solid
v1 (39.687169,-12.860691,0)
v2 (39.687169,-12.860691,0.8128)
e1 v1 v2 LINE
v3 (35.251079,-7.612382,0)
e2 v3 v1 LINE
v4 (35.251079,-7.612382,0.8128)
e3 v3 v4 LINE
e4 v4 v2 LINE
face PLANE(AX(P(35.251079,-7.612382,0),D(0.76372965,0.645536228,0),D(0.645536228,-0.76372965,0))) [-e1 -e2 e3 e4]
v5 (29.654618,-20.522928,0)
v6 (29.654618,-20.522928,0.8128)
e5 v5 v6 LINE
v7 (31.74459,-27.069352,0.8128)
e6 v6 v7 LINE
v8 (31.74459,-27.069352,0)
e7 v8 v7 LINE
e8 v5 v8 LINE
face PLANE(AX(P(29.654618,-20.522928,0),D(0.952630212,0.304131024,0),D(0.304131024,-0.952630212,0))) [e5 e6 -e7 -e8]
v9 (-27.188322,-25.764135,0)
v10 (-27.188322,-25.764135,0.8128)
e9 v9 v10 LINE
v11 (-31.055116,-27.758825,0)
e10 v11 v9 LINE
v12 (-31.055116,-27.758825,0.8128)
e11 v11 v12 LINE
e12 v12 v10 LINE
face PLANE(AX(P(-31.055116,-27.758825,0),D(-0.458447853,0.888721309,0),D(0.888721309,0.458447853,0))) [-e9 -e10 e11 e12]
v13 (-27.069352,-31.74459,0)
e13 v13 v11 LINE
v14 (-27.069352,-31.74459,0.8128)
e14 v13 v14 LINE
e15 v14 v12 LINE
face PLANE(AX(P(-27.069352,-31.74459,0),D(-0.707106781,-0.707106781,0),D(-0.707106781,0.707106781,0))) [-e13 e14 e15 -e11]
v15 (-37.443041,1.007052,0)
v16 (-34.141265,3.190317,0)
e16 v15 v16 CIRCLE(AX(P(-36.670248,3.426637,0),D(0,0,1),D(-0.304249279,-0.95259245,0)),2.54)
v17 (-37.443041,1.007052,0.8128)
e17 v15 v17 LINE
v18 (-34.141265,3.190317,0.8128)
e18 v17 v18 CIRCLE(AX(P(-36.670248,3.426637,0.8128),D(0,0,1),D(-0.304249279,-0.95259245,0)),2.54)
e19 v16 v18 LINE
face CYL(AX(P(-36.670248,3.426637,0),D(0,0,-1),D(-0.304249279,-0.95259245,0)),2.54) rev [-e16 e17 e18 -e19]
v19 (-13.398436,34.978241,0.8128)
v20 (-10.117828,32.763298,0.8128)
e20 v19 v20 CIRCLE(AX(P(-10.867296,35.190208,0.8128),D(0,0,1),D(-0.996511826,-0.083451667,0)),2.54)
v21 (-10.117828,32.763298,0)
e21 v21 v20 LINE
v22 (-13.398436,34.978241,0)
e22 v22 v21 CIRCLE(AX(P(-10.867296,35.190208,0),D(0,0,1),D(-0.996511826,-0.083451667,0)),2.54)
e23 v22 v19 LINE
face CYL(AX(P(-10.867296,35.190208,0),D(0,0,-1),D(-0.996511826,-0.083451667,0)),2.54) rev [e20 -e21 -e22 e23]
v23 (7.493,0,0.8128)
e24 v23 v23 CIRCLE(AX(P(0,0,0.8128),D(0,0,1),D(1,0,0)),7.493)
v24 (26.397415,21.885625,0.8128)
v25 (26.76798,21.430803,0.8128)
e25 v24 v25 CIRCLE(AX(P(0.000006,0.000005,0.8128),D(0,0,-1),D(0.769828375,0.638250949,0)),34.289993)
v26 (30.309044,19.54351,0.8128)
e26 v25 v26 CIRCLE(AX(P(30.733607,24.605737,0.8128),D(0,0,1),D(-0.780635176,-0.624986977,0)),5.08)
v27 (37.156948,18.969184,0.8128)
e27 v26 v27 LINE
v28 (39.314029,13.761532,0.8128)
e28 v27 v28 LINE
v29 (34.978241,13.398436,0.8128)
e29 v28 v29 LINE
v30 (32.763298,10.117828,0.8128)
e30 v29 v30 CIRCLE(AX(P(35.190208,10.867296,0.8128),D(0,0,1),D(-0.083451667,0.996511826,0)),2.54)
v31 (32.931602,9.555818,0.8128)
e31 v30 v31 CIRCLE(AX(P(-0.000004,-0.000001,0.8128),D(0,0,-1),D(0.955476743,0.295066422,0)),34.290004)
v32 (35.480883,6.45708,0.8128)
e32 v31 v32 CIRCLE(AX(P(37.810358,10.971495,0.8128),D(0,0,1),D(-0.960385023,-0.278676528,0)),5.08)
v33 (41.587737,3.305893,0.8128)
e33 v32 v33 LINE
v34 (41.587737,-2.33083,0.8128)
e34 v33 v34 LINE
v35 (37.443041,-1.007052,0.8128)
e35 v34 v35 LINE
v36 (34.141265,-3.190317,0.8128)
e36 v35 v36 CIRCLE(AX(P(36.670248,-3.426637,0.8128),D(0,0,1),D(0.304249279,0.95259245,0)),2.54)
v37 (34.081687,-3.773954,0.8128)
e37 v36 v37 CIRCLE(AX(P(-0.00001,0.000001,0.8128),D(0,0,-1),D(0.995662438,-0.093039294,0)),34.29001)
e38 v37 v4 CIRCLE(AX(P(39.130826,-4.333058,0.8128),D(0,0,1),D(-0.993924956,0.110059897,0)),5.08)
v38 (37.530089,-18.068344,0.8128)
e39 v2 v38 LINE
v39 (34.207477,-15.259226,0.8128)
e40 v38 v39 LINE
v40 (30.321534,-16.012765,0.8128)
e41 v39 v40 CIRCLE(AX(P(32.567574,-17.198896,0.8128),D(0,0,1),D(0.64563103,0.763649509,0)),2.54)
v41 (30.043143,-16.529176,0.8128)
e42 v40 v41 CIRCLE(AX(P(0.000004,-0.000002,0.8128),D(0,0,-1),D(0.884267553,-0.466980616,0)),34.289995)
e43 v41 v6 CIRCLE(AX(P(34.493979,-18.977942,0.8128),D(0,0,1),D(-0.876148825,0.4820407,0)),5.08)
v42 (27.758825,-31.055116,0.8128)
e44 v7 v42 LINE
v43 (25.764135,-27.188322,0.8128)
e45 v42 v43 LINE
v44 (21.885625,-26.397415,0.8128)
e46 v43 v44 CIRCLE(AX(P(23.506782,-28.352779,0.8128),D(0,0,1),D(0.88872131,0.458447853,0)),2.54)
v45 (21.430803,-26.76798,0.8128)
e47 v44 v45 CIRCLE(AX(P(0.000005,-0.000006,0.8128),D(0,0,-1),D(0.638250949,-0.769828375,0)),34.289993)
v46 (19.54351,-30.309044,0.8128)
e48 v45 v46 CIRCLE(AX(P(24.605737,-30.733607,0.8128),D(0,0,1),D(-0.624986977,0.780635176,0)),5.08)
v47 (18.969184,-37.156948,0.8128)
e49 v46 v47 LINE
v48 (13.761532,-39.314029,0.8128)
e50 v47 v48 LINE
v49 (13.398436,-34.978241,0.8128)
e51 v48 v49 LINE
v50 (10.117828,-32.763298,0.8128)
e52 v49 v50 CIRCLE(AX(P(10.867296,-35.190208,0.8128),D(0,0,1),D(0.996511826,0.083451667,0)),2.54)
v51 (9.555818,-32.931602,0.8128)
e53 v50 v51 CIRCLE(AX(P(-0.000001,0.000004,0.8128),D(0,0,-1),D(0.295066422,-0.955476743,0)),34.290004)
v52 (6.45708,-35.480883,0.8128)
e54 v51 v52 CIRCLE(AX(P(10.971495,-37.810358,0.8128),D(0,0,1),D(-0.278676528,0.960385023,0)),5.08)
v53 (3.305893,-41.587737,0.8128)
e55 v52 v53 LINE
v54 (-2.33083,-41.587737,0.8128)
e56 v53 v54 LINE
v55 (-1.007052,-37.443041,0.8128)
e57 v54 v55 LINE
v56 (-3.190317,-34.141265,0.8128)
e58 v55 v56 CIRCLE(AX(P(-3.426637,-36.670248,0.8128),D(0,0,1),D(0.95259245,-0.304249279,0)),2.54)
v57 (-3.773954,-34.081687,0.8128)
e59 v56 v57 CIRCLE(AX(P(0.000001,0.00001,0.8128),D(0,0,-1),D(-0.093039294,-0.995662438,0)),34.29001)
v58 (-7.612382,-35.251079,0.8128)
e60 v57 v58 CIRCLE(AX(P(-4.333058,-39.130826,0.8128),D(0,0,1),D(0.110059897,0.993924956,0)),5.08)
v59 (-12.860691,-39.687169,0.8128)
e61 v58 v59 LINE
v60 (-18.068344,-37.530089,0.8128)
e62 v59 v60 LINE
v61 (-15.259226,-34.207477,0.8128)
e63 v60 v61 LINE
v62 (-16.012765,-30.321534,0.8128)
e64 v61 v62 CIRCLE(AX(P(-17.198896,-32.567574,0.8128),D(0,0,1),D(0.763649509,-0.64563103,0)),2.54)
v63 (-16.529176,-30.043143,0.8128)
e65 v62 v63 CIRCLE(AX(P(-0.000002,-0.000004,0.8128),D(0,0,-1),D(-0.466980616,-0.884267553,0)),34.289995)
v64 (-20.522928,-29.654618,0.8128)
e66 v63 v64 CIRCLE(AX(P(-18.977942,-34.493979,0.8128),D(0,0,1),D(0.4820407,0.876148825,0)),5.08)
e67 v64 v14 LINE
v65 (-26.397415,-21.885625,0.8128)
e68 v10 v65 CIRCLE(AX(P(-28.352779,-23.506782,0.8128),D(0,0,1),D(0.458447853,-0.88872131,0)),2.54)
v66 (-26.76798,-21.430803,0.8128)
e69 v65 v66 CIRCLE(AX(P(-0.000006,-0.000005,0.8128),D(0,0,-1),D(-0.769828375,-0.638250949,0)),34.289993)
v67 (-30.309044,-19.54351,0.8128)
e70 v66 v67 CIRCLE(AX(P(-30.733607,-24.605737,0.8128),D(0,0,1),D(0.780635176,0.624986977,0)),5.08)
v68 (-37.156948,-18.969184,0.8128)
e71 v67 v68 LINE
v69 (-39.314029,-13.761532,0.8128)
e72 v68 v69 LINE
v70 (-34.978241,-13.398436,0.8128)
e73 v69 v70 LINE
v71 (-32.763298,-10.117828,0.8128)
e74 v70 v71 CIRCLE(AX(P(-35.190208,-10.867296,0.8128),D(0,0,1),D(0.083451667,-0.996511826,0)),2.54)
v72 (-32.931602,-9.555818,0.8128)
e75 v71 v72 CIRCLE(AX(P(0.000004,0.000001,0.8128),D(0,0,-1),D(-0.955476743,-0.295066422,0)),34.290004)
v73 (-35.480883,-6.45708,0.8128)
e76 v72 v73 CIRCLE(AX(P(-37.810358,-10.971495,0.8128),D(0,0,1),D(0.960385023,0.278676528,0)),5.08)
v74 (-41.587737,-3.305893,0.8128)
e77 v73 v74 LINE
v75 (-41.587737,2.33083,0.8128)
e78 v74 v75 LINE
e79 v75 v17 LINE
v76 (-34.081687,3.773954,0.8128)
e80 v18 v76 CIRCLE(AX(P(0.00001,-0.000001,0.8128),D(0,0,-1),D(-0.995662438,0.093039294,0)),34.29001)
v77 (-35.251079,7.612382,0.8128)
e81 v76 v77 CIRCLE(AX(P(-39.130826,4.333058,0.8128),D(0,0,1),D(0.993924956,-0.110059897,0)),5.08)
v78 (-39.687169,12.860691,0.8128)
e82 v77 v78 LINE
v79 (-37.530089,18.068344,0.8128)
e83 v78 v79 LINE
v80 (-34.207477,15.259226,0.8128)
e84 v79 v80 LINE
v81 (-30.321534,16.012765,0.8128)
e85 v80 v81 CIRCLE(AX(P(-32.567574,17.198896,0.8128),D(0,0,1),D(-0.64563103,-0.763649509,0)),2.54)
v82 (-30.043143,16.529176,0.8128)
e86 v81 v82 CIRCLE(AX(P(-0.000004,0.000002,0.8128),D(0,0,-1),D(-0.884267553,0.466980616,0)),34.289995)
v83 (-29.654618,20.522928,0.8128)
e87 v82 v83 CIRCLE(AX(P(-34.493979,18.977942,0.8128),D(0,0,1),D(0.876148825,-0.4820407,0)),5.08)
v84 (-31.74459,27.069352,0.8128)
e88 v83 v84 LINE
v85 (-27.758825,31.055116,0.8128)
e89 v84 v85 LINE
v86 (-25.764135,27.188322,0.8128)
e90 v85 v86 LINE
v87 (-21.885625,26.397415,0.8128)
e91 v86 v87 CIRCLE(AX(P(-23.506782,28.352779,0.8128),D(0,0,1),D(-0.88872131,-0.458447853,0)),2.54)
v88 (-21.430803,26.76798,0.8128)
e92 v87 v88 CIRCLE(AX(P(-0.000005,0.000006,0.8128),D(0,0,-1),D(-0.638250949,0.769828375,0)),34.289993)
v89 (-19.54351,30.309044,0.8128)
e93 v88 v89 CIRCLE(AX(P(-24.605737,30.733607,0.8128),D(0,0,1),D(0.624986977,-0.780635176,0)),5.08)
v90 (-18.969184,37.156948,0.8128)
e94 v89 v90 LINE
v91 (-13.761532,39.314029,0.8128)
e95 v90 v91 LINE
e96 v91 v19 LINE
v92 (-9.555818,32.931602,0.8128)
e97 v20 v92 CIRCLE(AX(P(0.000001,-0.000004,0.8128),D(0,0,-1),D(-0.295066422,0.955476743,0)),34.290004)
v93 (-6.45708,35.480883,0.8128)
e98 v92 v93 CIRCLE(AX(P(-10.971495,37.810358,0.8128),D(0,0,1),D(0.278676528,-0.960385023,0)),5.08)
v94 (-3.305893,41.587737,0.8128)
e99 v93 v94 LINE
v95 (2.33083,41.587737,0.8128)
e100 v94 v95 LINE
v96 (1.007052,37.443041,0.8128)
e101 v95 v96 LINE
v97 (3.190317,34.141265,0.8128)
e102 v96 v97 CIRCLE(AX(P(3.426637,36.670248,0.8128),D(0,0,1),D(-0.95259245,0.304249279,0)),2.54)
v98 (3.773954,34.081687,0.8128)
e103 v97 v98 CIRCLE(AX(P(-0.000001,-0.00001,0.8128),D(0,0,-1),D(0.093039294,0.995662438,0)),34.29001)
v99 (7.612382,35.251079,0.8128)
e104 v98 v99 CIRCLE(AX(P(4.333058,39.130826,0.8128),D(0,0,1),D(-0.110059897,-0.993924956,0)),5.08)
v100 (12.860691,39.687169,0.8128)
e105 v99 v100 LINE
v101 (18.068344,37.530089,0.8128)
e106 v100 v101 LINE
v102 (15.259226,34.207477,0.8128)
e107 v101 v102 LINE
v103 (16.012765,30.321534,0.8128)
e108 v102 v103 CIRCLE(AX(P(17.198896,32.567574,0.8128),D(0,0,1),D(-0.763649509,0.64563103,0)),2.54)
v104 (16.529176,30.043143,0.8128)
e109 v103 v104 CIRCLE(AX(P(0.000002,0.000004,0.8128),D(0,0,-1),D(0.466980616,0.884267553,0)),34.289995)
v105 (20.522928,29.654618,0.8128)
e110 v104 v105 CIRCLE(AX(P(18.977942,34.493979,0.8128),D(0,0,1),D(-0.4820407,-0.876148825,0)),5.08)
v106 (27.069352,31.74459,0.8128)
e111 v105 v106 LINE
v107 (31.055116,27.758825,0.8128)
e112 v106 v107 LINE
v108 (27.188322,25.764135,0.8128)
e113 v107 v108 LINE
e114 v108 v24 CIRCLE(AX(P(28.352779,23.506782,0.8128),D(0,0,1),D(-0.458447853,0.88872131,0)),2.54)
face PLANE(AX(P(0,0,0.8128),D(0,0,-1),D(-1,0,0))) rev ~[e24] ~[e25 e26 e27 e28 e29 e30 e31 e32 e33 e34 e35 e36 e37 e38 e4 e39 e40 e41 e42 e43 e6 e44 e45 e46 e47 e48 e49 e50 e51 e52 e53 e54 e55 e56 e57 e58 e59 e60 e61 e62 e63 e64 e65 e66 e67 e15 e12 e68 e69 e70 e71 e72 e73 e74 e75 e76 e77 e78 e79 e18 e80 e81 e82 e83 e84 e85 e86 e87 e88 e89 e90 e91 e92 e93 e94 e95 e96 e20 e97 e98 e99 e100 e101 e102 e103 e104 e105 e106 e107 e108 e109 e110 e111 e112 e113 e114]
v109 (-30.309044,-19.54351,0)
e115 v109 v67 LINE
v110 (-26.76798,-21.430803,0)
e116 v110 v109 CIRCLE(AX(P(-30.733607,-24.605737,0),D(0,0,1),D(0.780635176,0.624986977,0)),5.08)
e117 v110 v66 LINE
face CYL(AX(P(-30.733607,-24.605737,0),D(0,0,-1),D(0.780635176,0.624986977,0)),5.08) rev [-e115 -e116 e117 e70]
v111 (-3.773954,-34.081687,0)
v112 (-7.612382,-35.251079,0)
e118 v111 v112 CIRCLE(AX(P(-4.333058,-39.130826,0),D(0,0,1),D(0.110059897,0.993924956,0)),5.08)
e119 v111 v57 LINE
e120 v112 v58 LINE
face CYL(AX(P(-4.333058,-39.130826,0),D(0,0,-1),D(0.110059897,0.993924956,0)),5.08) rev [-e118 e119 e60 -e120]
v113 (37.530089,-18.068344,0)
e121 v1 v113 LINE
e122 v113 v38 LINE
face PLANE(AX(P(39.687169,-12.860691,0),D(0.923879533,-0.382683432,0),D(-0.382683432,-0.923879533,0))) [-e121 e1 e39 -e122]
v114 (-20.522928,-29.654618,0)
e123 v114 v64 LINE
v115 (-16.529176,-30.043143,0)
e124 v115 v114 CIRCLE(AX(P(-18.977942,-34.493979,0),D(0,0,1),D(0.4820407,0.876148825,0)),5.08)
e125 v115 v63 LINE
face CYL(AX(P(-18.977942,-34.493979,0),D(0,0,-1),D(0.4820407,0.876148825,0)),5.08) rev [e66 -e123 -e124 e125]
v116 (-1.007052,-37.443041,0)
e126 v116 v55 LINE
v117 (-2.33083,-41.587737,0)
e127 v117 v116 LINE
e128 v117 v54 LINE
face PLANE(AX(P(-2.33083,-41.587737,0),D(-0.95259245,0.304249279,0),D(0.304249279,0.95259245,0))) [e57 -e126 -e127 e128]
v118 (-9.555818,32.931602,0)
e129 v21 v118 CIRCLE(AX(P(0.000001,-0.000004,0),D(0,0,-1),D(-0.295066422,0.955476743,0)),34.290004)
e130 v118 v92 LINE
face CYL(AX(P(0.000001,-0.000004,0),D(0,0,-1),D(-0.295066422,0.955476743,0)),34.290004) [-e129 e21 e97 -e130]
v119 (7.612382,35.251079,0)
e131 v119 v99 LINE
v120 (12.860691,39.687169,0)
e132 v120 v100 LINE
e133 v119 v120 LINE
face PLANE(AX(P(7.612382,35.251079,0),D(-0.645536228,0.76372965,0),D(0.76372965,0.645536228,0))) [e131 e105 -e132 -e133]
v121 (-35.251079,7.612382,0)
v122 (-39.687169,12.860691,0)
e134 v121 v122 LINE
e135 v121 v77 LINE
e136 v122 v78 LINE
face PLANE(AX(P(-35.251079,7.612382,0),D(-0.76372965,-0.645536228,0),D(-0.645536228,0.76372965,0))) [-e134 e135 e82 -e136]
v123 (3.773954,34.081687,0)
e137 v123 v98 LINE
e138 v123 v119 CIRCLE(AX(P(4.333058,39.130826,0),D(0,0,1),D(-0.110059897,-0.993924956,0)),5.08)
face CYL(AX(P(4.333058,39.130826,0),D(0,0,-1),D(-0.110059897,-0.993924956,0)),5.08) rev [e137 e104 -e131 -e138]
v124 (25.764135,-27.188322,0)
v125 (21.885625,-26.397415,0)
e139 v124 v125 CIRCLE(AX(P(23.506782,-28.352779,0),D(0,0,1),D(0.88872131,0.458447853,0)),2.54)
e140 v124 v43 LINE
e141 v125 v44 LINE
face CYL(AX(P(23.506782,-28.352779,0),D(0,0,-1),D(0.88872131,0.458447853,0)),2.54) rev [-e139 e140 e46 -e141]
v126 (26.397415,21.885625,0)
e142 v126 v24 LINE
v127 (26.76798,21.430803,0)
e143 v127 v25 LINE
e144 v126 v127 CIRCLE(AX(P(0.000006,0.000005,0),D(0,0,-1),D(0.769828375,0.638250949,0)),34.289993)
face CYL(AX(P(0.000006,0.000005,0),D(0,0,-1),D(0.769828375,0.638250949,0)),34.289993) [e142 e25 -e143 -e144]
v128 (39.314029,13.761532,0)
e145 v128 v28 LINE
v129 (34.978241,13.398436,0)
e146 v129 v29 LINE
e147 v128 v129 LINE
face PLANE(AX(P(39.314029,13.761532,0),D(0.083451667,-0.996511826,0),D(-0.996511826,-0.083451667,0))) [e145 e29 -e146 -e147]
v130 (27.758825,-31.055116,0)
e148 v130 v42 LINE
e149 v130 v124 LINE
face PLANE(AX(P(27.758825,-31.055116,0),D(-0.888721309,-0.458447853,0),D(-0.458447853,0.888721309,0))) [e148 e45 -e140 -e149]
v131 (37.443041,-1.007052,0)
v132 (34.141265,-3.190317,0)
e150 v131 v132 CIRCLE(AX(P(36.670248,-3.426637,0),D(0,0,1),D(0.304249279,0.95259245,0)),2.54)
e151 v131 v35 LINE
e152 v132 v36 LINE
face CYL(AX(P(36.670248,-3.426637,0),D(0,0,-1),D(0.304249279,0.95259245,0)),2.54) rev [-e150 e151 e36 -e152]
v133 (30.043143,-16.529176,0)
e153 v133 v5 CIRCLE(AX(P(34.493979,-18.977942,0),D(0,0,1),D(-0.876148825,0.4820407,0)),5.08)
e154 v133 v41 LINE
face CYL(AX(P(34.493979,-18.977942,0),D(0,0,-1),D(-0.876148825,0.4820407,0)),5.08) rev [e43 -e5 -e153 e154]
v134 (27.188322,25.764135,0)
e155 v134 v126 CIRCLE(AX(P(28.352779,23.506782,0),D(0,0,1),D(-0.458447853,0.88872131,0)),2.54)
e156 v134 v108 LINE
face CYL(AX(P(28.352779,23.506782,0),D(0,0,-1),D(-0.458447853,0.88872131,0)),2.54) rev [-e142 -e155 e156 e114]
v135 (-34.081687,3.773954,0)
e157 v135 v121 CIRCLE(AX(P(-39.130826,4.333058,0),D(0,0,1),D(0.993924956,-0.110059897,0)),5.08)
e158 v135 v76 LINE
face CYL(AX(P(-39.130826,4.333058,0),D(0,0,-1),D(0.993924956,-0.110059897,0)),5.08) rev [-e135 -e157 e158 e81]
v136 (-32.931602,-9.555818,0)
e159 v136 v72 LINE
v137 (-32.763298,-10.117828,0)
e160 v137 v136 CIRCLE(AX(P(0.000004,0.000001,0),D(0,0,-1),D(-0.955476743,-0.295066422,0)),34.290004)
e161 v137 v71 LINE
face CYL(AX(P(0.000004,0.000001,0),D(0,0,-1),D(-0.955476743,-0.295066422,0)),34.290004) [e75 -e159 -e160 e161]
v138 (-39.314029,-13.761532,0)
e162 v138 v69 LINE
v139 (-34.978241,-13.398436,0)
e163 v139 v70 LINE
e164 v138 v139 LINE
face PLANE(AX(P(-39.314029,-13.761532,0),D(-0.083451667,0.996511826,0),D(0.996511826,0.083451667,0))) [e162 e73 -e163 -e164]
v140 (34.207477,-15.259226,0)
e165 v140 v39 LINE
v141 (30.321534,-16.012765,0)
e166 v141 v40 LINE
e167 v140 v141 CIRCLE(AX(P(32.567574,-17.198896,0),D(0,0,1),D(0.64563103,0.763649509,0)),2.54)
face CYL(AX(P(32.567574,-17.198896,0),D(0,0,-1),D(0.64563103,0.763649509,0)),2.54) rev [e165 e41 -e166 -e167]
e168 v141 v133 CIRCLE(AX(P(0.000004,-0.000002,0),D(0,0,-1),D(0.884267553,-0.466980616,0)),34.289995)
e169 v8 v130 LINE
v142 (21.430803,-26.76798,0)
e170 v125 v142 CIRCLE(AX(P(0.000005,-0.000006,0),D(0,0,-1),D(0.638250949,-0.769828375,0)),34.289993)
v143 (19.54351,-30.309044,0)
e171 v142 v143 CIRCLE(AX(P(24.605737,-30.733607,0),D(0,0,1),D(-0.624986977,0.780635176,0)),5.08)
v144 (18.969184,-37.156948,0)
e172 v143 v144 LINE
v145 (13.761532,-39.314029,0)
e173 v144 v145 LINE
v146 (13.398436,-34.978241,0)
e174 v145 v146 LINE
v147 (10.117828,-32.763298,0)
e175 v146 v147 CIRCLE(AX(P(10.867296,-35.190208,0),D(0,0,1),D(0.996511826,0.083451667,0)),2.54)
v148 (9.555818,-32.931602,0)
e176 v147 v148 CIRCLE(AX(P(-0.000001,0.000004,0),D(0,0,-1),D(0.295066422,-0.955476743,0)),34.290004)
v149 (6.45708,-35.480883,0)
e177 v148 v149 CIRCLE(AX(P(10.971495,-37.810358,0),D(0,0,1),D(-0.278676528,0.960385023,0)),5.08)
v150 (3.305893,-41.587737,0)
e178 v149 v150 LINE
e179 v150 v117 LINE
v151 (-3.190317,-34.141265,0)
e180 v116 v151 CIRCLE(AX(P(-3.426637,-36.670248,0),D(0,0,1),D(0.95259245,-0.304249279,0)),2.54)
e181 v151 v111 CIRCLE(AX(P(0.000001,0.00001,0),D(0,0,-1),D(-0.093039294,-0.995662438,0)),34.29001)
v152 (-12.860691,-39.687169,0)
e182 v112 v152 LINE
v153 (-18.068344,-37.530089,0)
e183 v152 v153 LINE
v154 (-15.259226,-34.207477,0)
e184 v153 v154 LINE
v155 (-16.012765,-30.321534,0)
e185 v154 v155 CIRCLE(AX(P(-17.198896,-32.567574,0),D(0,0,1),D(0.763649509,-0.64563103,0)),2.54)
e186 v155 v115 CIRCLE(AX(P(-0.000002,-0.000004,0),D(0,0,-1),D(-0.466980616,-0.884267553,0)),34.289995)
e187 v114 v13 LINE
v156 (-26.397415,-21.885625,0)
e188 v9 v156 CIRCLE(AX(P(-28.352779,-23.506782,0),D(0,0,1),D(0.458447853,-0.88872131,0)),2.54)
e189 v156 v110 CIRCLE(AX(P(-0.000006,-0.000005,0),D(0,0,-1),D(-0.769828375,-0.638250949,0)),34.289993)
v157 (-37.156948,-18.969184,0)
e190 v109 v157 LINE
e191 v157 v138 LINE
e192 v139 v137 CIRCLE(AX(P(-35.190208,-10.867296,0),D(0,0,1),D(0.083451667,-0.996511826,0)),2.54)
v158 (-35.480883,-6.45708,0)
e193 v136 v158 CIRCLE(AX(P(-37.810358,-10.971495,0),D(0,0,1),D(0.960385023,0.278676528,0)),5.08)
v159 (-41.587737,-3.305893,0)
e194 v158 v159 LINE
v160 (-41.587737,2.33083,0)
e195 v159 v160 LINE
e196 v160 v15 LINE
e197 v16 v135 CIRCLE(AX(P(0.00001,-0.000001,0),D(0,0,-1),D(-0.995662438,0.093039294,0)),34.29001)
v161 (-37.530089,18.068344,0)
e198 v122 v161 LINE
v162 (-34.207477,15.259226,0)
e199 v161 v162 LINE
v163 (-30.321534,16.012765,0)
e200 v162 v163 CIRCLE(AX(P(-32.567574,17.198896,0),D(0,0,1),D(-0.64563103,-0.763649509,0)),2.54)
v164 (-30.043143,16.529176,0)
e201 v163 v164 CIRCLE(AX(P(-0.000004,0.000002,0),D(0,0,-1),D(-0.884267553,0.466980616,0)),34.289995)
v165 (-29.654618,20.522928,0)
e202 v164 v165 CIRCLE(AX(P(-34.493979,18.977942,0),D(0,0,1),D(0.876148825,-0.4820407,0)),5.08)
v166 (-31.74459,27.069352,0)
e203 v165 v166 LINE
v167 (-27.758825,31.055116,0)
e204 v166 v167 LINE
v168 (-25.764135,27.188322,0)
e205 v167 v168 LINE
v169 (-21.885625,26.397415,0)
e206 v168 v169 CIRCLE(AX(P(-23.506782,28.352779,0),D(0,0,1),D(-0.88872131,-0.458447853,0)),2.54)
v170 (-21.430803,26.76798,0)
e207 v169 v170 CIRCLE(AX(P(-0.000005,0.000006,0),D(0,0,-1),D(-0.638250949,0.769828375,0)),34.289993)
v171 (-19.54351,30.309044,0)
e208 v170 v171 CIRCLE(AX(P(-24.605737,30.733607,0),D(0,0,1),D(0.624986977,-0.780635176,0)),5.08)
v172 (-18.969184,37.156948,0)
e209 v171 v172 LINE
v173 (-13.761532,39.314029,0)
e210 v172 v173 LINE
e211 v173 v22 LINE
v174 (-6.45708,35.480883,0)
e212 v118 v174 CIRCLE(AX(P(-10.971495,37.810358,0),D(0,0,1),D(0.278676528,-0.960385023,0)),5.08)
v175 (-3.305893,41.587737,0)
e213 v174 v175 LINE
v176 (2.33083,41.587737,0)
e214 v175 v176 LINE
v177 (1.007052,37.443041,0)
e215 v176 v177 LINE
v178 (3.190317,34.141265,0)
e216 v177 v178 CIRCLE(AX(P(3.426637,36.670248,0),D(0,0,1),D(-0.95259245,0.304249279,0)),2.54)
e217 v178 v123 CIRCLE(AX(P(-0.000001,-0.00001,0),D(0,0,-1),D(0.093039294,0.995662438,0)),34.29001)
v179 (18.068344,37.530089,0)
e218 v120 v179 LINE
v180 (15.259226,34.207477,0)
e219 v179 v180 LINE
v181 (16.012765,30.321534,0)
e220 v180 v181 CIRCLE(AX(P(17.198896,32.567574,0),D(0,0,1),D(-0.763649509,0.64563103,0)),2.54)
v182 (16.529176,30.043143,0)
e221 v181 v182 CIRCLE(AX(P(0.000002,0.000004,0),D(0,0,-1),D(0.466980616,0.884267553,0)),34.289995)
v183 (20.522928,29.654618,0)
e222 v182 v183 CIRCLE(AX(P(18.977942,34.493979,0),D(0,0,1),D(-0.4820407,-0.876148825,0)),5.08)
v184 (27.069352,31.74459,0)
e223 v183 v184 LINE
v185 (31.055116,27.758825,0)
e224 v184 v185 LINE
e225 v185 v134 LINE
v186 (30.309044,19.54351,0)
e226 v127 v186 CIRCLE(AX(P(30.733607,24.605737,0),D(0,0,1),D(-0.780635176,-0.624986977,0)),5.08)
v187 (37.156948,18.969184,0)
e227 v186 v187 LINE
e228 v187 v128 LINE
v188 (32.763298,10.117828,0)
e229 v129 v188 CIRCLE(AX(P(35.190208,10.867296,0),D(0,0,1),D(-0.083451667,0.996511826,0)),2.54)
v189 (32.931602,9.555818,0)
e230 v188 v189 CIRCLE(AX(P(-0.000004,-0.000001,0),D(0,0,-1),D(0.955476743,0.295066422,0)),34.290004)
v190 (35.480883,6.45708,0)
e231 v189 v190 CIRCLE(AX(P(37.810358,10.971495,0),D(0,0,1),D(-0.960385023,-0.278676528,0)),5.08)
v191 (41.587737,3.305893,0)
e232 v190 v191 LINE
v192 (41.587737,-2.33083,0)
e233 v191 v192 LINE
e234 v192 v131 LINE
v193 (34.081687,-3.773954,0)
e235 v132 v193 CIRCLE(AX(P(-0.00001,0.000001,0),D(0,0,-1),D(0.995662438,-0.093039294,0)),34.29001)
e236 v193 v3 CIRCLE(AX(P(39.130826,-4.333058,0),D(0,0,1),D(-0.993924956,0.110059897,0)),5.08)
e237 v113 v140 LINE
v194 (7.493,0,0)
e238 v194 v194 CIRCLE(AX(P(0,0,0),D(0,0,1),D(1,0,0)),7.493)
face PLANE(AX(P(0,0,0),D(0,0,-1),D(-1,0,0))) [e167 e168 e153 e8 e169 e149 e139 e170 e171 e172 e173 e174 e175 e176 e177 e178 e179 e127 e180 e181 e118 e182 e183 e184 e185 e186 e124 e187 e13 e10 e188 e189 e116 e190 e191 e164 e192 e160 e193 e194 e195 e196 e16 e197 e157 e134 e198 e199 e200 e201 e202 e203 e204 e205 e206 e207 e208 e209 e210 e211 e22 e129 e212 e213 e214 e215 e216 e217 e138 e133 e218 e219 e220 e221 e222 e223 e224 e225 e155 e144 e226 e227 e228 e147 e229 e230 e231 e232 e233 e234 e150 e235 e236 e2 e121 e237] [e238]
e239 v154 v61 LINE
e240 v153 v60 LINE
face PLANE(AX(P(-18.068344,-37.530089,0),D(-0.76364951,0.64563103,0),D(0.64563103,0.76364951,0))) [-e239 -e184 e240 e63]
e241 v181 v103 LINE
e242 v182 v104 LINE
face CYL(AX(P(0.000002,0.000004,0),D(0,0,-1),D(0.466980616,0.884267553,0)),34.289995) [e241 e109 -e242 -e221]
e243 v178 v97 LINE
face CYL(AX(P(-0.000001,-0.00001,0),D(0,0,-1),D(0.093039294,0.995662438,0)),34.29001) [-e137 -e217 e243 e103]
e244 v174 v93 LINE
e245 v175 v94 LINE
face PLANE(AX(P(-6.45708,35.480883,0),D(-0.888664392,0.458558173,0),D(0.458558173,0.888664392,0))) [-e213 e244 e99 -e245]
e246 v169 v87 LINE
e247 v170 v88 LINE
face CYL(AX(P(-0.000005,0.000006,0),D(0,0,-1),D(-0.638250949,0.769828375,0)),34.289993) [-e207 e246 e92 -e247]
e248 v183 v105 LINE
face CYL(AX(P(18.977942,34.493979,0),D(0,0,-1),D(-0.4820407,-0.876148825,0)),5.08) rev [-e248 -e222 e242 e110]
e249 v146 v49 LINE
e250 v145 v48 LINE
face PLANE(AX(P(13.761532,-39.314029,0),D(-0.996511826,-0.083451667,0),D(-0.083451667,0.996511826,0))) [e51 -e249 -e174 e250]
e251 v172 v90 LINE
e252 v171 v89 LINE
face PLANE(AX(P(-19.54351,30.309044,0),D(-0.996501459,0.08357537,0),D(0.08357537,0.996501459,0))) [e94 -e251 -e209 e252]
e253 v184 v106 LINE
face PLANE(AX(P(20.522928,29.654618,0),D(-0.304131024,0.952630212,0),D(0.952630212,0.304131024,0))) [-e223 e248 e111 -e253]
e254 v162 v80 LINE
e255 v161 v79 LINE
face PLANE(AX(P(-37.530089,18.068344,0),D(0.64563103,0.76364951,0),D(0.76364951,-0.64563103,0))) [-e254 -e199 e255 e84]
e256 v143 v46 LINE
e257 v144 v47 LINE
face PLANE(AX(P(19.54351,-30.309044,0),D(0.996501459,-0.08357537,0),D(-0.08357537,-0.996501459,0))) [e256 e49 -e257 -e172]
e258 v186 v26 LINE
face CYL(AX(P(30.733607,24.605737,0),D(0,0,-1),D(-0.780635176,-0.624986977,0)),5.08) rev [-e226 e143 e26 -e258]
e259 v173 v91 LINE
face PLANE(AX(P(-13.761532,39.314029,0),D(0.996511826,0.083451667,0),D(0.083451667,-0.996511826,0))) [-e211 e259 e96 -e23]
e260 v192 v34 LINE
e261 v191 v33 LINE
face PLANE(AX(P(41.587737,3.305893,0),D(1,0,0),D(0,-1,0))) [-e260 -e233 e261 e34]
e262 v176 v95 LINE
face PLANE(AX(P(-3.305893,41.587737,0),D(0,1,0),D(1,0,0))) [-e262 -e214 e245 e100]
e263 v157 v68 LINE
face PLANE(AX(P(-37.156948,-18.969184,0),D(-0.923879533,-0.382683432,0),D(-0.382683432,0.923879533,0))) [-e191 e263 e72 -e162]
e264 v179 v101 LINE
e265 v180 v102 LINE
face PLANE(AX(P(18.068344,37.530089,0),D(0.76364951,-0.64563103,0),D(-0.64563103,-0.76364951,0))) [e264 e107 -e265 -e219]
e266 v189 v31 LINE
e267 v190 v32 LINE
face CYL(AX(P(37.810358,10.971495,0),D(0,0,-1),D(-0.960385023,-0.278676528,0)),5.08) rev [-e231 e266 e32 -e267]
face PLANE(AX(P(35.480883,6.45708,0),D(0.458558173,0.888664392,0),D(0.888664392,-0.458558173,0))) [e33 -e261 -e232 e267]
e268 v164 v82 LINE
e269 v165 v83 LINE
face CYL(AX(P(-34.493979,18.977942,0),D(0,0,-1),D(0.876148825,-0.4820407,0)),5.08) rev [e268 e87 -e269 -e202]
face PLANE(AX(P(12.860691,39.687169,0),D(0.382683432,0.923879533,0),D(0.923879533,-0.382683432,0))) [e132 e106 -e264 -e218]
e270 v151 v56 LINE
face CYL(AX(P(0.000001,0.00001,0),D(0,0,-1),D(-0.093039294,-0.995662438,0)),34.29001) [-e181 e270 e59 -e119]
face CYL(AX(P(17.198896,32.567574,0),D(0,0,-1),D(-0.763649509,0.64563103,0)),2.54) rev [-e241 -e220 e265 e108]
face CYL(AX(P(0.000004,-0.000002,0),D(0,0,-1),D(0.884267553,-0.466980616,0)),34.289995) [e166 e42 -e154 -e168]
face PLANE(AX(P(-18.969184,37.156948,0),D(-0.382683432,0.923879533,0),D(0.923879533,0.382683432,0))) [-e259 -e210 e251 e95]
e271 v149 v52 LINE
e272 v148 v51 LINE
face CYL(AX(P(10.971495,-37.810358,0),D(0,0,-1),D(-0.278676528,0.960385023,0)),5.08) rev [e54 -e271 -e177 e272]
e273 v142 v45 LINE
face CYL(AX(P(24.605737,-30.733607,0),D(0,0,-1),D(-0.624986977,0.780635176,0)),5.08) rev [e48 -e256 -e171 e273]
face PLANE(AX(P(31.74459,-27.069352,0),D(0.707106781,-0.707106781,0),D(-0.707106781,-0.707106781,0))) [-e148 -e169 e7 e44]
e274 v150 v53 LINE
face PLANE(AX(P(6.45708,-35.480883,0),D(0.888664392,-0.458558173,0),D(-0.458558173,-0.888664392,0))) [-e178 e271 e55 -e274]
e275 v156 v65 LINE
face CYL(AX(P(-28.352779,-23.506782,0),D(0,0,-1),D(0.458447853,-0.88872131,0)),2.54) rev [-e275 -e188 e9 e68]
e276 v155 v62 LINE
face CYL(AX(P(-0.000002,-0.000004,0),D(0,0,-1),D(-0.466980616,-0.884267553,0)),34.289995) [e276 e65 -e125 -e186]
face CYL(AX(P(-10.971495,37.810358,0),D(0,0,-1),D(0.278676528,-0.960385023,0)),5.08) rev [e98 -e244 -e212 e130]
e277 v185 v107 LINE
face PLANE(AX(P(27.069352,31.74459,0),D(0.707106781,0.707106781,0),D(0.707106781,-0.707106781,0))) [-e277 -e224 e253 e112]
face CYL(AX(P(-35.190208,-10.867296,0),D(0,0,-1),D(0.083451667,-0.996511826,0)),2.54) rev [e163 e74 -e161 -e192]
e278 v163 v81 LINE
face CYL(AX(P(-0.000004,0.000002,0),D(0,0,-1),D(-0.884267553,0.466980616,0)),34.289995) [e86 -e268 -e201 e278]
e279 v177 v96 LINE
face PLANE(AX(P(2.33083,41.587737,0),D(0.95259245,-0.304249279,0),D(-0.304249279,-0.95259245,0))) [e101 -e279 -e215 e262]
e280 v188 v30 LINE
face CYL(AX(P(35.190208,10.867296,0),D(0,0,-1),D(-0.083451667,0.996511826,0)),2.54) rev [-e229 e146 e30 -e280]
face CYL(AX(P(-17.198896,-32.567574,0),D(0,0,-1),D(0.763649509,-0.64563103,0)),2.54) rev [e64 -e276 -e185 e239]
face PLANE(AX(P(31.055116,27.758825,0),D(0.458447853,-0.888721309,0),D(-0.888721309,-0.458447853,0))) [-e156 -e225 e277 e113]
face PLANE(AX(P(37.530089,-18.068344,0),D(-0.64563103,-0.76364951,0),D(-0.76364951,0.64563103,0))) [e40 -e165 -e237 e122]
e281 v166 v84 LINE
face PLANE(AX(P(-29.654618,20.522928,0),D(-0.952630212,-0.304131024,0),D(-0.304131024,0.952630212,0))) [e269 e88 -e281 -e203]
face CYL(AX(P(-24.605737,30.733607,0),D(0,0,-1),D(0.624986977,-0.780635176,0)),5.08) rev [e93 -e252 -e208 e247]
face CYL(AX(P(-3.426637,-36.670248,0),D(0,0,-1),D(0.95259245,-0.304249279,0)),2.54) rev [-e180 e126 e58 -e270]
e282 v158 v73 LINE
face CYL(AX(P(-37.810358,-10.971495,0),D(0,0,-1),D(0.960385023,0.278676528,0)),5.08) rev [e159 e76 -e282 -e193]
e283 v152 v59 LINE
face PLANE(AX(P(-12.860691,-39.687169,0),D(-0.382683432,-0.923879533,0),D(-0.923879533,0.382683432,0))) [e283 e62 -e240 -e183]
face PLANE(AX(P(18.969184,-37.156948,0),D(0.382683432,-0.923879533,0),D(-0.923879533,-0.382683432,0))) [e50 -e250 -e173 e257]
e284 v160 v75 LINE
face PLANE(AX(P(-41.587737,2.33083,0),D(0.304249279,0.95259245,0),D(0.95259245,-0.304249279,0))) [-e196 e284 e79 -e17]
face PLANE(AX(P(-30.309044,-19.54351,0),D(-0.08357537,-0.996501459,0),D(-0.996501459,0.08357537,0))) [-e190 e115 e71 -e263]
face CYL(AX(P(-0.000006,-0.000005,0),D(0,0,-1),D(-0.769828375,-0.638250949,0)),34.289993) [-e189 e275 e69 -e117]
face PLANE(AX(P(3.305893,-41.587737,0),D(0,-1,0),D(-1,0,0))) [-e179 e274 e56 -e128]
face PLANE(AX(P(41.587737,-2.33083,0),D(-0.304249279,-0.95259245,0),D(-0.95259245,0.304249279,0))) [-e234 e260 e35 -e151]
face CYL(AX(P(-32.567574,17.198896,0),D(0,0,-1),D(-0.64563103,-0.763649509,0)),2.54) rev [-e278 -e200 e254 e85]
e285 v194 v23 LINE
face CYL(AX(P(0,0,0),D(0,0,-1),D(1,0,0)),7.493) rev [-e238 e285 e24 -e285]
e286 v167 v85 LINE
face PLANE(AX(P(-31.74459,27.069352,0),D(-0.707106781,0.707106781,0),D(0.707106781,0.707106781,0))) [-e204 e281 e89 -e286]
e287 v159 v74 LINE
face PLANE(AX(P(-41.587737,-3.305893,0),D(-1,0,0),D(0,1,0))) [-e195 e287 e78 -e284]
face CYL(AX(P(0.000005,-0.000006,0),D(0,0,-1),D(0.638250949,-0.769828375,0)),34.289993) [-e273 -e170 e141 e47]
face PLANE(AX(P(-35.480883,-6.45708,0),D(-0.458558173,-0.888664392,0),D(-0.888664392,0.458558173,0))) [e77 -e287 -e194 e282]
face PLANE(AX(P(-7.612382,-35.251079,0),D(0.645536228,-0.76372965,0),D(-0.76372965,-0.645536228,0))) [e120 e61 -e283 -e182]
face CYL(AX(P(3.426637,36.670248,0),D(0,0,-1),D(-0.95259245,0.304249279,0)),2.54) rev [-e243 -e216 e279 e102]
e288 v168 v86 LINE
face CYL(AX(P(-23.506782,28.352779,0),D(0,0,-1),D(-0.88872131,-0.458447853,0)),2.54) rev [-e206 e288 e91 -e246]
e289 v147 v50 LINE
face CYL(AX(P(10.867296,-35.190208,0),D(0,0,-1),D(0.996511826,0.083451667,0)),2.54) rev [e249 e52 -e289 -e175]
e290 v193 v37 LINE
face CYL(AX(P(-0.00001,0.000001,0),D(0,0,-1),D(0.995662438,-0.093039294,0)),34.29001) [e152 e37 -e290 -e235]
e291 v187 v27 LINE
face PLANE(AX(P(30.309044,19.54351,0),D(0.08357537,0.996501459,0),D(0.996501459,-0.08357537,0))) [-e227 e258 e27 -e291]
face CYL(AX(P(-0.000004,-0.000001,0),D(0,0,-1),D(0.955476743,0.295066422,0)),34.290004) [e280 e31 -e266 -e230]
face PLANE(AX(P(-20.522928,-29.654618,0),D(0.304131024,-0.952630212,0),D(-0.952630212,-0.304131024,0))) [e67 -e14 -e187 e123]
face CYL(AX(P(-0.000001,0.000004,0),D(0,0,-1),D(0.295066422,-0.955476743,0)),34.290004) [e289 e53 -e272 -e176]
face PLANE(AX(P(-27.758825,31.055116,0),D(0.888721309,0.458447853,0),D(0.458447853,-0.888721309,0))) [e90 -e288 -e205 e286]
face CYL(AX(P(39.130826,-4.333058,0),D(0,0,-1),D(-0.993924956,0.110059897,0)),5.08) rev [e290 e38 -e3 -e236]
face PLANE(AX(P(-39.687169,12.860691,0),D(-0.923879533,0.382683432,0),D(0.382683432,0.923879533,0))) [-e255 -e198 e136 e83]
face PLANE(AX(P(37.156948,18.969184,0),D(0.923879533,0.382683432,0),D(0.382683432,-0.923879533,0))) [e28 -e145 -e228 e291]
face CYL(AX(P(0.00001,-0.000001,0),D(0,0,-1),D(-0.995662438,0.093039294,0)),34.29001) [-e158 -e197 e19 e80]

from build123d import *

# Parameters (mm, degrees)
SKETCH1_R           = 7.493
BOSS_EXTRUDE1_DEPTH = 0.8128


with BuildPart() as part:
    # Sketch1 → Boss-Extrude1 (new body)
    with BuildSketch(Plane.XY):
        with BuildLine():
            Line((-6.457079781, 35.480882848), (-3.305892697, 41.587736724))
            Line((-3.305892697, 41.587736724), (2.330830076, 41.587736724))
            Line((2.330830076, 41.587736724), (1.007052256, 37.443040758))
            ThreePointArc((1.007052256, 37.443040758), (1.307937447, 35.269279401), (3.190317281, 34.141264998))
            ThreePointArc((3.190317281, 34.141264998), (3.482262993, 34.112724084), (3.773953868, 34.081686757))
            ThreePointArc((3.773953868, 34.081686757), (5.813520367, 34.271336714), (7.612382182, 35.251078913))
            Line((7.612382182, 35.251078913), (12.860691234, 39.687169127))
            Line((12.860691234, 39.687169127), (18.068344035, 37.530088709))
            Line((18.068344035, 37.530088709), (15.259226323, 34.207476777))
            ThreePointArc((15.259226323, 34.207476777), (14.705345535, 32.084039374), (16.012765313, 30.321534378))
            ThreePointArc((16.012765313, 30.321534378), (16.271565846, 30.183443225), (16.529175604, 30.043143208))
            ThreePointArc((16.529175604, 30.043143208), (18.486065244, 29.437848614), (20.522927965, 29.654617765))
            Line((20.522927965, 29.654617765), (27.069351508, 31.744589796))
            Line((27.069351508, 31.744589796), (31.055116405, 27.758824899))
            Line((31.055116405, 27.758824899), (27.188321507, 25.764134549))
            ThreePointArc((27.188321507, 25.764134549), (25.86399807, 24.014295194), (26.397414982, 21.885625015))
            ThreePointArc((26.397414982, 21.885625015), (26.583670301, 21.659006749), (26.767980192, 21.430803448))
            ThreePointArc((26.767980192, 21.430803448), (28.344274264, 20.122714917), (30.309044005, 19.543509881))
            Line((30.309044005, 19.543509881), (37.156948399, 18.969184434))
            Line((37.156948399, 18.969184434), (39.314028817, 13.761531633))
            Line((39.314028817, 13.761531633), (34.978241205, 13.398436388))
            ThreePointArc((34.978241205, 13.398436388), (33.085091357, 12.288592261), (32.763297513, 10.117827636))
            ThreePointArc((32.763297513, 10.117827636), (32.848651934, 9.837182834), (32.931602448, 9.555818134))
            ThreePointArc((32.931602448, 9.555818134), (33.88732447, 7.744080287), (35.480882848, 6.457079781))
            Line((35.480882848, 6.457079781), (41.587736724, 3.305892697))
            Line((41.587736724, 3.305892697), (41.587736724, -2.330830076))
            Line((41.587736724, -2.330830076), (37.443040758, -1.007052256))
            ThreePointArc((37.443040758, -1.007052256), (35.269279401, -1.307937447), (34.141264998, -3.190317281))
            ThreePointArc((34.141264998, -3.190317281), (34.112724084, -3.482262993), (34.081686757, -3.773953868))
            ThreePointArc((34.081686757, -3.773953868), (34.271336714, -5.813520367), (35.251078913, -7.612382182))
            Line((35.251078913, -7.612382182), (39.687169127, -12.860691234))
            Line((39.687169127, -12.860691234), (37.530088709, -18.068344035))
            Line((37.530088709, -18.068344035), (34.207476777, -15.259226323))
            ThreePointArc((34.207476777, -15.259226323), (32.084039374, -14.705345535), (30.321534378, -16.012765313))
            ThreePointArc((30.321534378, -16.012765313), (30.183443225, -16.271565846), (30.043143208, -16.529175604))
            ThreePointArc((30.043143208, -16.529175604), (29.437848614, -18.486065244), (29.654617765, -20.522927965))
            Line((29.654617765, -20.522927965), (31.744589796, -27.069351508))
            Line((31.744589796, -27.069351508), (27.758824899, -31.055116405))
            Line((27.758824899, -31.055116405), (25.764134549, -27.188321507))
            ThreePointArc((25.764134549, -27.188321507), (24.014295194, -25.86399807), (21.885625015, -26.397414982))
            ThreePointArc((21.885625015, -26.397414982), (21.659006749, -26.583670301), (21.430803448, -26.767980192))
            ThreePointArc((21.430803448, -26.767980192), (20.122714917, -28.344274264), (19.543509881, -30.309044005))
            Line((19.543509881, -30.309044005), (18.969184434, -37.156948399))
            Line((18.969184434, -37.156948399), (13.761531633, -39.314028817))
            Line((13.761531633, -39.314028817), (13.398436388, -34.978241205))
            ThreePointArc((13.398436388, -34.978241205), (12.288592261, -33.085091357), (10.117827636, -32.763297513))
            ThreePointArc((10.117827636, -32.763297513), (9.837182834, -32.848651934), (9.555818134, -32.931602448))
            ThreePointArc((9.555818134, -32.931602448), (7.744080287, -33.88732447), (6.457079781, -35.480882848))
            Line((6.457079781, -35.480882848), (3.305892697, -41.587736724))
            Line((3.305892697, -41.587736724), (-2.330830076, -41.587736724))
            Line((-2.330830076, -41.587736724), (-1.007052256, -37.443040758))
            ThreePointArc((-1.007052256, -37.443040758), (-1.307937447, -35.269279401), (-3.190317281, -34.141264998))
            ThreePointArc((-3.190317281, -34.141264998), (-3.482262993, -34.112724084), (-3.773953868, -34.081686757))
            ThreePointArc((-3.773953868, -34.081686757), (-5.813520367, -34.271336714), (-7.612382182, -35.251078913))
            Line((-7.612382182, -35.251078913), (-12.860691234, -39.687169127))
            Line((-12.860691234, -39.687169127), (-18.068344035, -37.530088709))
            Line((-18.068344035, -37.530088709), (-15.259226323, -34.207476777))
            ThreePointArc((-15.259226323, -34.207476777), (-14.705345535, -32.084039374), (-16.012765313, -30.321534378))
            ThreePointArc((-16.012765313, -30.321534378), (-16.271565846, -30.183443225), (-16.529175604, -30.043143208))
            ThreePointArc((-16.529175604, -30.043143208), (-18.486065244, -29.437848614), (-20.522927965, -29.654617765))
            Line((-20.522927965, -29.654617765), (-27.069351508, -31.744589796))
            Line((-27.069351508, -31.744589796), (-31.055116405, -27.758824899))
            Line((-31.055116405, -27.758824899), (-27.188321507, -25.764134549))
            ThreePointArc((-27.188321507, -25.764134549), (-25.86399807, -24.014295194), (-26.397414982, -21.885625015))
            ThreePointArc((-26.397414982, -21.885625015), (-26.583670301, -21.659006749), (-26.767980192, -21.430803448))
            ThreePointArc((-26.767980192, -21.430803448), (-28.344274264, -20.122714917), (-30.309044005, -19.543509881))
            Line((-30.309044005, -19.543509881), (-37.156948399, -18.969184434))
            Line((-37.156948399, -18.969184434), (-39.314028817, -13.761531633))
            Line((-39.314028817, -13.761531633), (-34.978241205, -13.398436388))
            ThreePointArc((-34.978241205, -13.398436388), (-33.085091357, -12.288592261), (-32.763297513, -10.117827636))
            ThreePointArc((-32.763297513, -10.117827636), (-32.848651934, -9.837182834), (-32.931602448, -9.555818134))
            ThreePointArc((-32.931602448, -9.555818134), (-33.88732447, -7.744080287), (-35.480882848, -6.457079781))
            Line((-35.480882848, -6.457079781), (-41.587736724, -3.305892697))
            Line((-41.587736724, -3.305892697), (-41.587736724, 2.330830076))
            Line((-41.587736724, 2.330830076), (-37.443040758, 1.007052256))
            ThreePointArc((-37.443040758, 1.007052256), (-35.269279401, 1.307937447), (-34.141264998, 3.190317281))
            ThreePointArc((-34.141264998, 3.190317281), (-34.112724084, 3.482262993), (-34.081686757, 3.773953868))
            ThreePointArc((-34.081686757, 3.773953868), (-34.271336714, 5.813520367), (-35.251078913, 7.612382182))
            Line((-35.251078913, 7.612382182), (-39.687169127, 12.860691234))
            Line((-39.687169127, 12.860691234), (-37.530088709, 18.068344035))
            Line((-37.530088709, 18.068344035), (-34.207476777, 15.259226323))
            ThreePointArc((-34.207476777, 15.259226323), (-32.084039374, 14.705345535), (-30.321534378, 16.012765313))
            ThreePointArc((-30.321534378, 16.012765313), (-30.183443225, 16.271565846), (-30.043143208, 16.529175604))
            ThreePointArc((-30.043143208, 16.529175604), (-29.437848614, 18.486065244), (-29.654617765, 20.522927965))
            Line((-29.654617765, 20.522927965), (-31.744589796, 27.069351508))
            Line((-31.744589796, 27.069351508), (-27.758824899, 31.055116405))
            Line((-27.758824899, 31.055116405), (-25.764134549, 27.188321507))
            ThreePointArc((-25.764134549, 27.188321507), (-24.014295194, 25.86399807), (-21.885625015, 26.397414982))
            ThreePointArc((-21.885625015, 26.397414982), (-21.659006749, 26.583670301), (-21.430803448, 26.767980192))
            ThreePointArc((-21.430803448, 26.767980192), (-20.122714917, 28.344274264), (-19.543509881, 30.309044005))
            Line((-19.543509881, 30.309044005), (-18.969184434, 37.156948399))
            Line((-18.969184434, 37.156948399), (-13.761531633, 39.314028817))
            Line((-13.761531633, 39.314028817), (-13.398436388, 34.978241205))
            ThreePointArc((-13.398436388, 34.978241205), (-12.288592261, 33.085091357), (-10.117827636, 32.763297513))
            ThreePointArc((-10.117827636, 32.763297513), (-9.837182834, 32.848651934), (-9.555818134, 32.931602448))
            ThreePointArc((-9.555818134, 32.931602448), (-7.744080287, 33.88732447), (-6.457079781, 35.480882848))
        make_face()
        Circle(SKETCH1_R, mode=Mode.SUBTRACT)
    extrude(amount=BOSS_EXTRUDE1_DEPTH)


solid = part.part
